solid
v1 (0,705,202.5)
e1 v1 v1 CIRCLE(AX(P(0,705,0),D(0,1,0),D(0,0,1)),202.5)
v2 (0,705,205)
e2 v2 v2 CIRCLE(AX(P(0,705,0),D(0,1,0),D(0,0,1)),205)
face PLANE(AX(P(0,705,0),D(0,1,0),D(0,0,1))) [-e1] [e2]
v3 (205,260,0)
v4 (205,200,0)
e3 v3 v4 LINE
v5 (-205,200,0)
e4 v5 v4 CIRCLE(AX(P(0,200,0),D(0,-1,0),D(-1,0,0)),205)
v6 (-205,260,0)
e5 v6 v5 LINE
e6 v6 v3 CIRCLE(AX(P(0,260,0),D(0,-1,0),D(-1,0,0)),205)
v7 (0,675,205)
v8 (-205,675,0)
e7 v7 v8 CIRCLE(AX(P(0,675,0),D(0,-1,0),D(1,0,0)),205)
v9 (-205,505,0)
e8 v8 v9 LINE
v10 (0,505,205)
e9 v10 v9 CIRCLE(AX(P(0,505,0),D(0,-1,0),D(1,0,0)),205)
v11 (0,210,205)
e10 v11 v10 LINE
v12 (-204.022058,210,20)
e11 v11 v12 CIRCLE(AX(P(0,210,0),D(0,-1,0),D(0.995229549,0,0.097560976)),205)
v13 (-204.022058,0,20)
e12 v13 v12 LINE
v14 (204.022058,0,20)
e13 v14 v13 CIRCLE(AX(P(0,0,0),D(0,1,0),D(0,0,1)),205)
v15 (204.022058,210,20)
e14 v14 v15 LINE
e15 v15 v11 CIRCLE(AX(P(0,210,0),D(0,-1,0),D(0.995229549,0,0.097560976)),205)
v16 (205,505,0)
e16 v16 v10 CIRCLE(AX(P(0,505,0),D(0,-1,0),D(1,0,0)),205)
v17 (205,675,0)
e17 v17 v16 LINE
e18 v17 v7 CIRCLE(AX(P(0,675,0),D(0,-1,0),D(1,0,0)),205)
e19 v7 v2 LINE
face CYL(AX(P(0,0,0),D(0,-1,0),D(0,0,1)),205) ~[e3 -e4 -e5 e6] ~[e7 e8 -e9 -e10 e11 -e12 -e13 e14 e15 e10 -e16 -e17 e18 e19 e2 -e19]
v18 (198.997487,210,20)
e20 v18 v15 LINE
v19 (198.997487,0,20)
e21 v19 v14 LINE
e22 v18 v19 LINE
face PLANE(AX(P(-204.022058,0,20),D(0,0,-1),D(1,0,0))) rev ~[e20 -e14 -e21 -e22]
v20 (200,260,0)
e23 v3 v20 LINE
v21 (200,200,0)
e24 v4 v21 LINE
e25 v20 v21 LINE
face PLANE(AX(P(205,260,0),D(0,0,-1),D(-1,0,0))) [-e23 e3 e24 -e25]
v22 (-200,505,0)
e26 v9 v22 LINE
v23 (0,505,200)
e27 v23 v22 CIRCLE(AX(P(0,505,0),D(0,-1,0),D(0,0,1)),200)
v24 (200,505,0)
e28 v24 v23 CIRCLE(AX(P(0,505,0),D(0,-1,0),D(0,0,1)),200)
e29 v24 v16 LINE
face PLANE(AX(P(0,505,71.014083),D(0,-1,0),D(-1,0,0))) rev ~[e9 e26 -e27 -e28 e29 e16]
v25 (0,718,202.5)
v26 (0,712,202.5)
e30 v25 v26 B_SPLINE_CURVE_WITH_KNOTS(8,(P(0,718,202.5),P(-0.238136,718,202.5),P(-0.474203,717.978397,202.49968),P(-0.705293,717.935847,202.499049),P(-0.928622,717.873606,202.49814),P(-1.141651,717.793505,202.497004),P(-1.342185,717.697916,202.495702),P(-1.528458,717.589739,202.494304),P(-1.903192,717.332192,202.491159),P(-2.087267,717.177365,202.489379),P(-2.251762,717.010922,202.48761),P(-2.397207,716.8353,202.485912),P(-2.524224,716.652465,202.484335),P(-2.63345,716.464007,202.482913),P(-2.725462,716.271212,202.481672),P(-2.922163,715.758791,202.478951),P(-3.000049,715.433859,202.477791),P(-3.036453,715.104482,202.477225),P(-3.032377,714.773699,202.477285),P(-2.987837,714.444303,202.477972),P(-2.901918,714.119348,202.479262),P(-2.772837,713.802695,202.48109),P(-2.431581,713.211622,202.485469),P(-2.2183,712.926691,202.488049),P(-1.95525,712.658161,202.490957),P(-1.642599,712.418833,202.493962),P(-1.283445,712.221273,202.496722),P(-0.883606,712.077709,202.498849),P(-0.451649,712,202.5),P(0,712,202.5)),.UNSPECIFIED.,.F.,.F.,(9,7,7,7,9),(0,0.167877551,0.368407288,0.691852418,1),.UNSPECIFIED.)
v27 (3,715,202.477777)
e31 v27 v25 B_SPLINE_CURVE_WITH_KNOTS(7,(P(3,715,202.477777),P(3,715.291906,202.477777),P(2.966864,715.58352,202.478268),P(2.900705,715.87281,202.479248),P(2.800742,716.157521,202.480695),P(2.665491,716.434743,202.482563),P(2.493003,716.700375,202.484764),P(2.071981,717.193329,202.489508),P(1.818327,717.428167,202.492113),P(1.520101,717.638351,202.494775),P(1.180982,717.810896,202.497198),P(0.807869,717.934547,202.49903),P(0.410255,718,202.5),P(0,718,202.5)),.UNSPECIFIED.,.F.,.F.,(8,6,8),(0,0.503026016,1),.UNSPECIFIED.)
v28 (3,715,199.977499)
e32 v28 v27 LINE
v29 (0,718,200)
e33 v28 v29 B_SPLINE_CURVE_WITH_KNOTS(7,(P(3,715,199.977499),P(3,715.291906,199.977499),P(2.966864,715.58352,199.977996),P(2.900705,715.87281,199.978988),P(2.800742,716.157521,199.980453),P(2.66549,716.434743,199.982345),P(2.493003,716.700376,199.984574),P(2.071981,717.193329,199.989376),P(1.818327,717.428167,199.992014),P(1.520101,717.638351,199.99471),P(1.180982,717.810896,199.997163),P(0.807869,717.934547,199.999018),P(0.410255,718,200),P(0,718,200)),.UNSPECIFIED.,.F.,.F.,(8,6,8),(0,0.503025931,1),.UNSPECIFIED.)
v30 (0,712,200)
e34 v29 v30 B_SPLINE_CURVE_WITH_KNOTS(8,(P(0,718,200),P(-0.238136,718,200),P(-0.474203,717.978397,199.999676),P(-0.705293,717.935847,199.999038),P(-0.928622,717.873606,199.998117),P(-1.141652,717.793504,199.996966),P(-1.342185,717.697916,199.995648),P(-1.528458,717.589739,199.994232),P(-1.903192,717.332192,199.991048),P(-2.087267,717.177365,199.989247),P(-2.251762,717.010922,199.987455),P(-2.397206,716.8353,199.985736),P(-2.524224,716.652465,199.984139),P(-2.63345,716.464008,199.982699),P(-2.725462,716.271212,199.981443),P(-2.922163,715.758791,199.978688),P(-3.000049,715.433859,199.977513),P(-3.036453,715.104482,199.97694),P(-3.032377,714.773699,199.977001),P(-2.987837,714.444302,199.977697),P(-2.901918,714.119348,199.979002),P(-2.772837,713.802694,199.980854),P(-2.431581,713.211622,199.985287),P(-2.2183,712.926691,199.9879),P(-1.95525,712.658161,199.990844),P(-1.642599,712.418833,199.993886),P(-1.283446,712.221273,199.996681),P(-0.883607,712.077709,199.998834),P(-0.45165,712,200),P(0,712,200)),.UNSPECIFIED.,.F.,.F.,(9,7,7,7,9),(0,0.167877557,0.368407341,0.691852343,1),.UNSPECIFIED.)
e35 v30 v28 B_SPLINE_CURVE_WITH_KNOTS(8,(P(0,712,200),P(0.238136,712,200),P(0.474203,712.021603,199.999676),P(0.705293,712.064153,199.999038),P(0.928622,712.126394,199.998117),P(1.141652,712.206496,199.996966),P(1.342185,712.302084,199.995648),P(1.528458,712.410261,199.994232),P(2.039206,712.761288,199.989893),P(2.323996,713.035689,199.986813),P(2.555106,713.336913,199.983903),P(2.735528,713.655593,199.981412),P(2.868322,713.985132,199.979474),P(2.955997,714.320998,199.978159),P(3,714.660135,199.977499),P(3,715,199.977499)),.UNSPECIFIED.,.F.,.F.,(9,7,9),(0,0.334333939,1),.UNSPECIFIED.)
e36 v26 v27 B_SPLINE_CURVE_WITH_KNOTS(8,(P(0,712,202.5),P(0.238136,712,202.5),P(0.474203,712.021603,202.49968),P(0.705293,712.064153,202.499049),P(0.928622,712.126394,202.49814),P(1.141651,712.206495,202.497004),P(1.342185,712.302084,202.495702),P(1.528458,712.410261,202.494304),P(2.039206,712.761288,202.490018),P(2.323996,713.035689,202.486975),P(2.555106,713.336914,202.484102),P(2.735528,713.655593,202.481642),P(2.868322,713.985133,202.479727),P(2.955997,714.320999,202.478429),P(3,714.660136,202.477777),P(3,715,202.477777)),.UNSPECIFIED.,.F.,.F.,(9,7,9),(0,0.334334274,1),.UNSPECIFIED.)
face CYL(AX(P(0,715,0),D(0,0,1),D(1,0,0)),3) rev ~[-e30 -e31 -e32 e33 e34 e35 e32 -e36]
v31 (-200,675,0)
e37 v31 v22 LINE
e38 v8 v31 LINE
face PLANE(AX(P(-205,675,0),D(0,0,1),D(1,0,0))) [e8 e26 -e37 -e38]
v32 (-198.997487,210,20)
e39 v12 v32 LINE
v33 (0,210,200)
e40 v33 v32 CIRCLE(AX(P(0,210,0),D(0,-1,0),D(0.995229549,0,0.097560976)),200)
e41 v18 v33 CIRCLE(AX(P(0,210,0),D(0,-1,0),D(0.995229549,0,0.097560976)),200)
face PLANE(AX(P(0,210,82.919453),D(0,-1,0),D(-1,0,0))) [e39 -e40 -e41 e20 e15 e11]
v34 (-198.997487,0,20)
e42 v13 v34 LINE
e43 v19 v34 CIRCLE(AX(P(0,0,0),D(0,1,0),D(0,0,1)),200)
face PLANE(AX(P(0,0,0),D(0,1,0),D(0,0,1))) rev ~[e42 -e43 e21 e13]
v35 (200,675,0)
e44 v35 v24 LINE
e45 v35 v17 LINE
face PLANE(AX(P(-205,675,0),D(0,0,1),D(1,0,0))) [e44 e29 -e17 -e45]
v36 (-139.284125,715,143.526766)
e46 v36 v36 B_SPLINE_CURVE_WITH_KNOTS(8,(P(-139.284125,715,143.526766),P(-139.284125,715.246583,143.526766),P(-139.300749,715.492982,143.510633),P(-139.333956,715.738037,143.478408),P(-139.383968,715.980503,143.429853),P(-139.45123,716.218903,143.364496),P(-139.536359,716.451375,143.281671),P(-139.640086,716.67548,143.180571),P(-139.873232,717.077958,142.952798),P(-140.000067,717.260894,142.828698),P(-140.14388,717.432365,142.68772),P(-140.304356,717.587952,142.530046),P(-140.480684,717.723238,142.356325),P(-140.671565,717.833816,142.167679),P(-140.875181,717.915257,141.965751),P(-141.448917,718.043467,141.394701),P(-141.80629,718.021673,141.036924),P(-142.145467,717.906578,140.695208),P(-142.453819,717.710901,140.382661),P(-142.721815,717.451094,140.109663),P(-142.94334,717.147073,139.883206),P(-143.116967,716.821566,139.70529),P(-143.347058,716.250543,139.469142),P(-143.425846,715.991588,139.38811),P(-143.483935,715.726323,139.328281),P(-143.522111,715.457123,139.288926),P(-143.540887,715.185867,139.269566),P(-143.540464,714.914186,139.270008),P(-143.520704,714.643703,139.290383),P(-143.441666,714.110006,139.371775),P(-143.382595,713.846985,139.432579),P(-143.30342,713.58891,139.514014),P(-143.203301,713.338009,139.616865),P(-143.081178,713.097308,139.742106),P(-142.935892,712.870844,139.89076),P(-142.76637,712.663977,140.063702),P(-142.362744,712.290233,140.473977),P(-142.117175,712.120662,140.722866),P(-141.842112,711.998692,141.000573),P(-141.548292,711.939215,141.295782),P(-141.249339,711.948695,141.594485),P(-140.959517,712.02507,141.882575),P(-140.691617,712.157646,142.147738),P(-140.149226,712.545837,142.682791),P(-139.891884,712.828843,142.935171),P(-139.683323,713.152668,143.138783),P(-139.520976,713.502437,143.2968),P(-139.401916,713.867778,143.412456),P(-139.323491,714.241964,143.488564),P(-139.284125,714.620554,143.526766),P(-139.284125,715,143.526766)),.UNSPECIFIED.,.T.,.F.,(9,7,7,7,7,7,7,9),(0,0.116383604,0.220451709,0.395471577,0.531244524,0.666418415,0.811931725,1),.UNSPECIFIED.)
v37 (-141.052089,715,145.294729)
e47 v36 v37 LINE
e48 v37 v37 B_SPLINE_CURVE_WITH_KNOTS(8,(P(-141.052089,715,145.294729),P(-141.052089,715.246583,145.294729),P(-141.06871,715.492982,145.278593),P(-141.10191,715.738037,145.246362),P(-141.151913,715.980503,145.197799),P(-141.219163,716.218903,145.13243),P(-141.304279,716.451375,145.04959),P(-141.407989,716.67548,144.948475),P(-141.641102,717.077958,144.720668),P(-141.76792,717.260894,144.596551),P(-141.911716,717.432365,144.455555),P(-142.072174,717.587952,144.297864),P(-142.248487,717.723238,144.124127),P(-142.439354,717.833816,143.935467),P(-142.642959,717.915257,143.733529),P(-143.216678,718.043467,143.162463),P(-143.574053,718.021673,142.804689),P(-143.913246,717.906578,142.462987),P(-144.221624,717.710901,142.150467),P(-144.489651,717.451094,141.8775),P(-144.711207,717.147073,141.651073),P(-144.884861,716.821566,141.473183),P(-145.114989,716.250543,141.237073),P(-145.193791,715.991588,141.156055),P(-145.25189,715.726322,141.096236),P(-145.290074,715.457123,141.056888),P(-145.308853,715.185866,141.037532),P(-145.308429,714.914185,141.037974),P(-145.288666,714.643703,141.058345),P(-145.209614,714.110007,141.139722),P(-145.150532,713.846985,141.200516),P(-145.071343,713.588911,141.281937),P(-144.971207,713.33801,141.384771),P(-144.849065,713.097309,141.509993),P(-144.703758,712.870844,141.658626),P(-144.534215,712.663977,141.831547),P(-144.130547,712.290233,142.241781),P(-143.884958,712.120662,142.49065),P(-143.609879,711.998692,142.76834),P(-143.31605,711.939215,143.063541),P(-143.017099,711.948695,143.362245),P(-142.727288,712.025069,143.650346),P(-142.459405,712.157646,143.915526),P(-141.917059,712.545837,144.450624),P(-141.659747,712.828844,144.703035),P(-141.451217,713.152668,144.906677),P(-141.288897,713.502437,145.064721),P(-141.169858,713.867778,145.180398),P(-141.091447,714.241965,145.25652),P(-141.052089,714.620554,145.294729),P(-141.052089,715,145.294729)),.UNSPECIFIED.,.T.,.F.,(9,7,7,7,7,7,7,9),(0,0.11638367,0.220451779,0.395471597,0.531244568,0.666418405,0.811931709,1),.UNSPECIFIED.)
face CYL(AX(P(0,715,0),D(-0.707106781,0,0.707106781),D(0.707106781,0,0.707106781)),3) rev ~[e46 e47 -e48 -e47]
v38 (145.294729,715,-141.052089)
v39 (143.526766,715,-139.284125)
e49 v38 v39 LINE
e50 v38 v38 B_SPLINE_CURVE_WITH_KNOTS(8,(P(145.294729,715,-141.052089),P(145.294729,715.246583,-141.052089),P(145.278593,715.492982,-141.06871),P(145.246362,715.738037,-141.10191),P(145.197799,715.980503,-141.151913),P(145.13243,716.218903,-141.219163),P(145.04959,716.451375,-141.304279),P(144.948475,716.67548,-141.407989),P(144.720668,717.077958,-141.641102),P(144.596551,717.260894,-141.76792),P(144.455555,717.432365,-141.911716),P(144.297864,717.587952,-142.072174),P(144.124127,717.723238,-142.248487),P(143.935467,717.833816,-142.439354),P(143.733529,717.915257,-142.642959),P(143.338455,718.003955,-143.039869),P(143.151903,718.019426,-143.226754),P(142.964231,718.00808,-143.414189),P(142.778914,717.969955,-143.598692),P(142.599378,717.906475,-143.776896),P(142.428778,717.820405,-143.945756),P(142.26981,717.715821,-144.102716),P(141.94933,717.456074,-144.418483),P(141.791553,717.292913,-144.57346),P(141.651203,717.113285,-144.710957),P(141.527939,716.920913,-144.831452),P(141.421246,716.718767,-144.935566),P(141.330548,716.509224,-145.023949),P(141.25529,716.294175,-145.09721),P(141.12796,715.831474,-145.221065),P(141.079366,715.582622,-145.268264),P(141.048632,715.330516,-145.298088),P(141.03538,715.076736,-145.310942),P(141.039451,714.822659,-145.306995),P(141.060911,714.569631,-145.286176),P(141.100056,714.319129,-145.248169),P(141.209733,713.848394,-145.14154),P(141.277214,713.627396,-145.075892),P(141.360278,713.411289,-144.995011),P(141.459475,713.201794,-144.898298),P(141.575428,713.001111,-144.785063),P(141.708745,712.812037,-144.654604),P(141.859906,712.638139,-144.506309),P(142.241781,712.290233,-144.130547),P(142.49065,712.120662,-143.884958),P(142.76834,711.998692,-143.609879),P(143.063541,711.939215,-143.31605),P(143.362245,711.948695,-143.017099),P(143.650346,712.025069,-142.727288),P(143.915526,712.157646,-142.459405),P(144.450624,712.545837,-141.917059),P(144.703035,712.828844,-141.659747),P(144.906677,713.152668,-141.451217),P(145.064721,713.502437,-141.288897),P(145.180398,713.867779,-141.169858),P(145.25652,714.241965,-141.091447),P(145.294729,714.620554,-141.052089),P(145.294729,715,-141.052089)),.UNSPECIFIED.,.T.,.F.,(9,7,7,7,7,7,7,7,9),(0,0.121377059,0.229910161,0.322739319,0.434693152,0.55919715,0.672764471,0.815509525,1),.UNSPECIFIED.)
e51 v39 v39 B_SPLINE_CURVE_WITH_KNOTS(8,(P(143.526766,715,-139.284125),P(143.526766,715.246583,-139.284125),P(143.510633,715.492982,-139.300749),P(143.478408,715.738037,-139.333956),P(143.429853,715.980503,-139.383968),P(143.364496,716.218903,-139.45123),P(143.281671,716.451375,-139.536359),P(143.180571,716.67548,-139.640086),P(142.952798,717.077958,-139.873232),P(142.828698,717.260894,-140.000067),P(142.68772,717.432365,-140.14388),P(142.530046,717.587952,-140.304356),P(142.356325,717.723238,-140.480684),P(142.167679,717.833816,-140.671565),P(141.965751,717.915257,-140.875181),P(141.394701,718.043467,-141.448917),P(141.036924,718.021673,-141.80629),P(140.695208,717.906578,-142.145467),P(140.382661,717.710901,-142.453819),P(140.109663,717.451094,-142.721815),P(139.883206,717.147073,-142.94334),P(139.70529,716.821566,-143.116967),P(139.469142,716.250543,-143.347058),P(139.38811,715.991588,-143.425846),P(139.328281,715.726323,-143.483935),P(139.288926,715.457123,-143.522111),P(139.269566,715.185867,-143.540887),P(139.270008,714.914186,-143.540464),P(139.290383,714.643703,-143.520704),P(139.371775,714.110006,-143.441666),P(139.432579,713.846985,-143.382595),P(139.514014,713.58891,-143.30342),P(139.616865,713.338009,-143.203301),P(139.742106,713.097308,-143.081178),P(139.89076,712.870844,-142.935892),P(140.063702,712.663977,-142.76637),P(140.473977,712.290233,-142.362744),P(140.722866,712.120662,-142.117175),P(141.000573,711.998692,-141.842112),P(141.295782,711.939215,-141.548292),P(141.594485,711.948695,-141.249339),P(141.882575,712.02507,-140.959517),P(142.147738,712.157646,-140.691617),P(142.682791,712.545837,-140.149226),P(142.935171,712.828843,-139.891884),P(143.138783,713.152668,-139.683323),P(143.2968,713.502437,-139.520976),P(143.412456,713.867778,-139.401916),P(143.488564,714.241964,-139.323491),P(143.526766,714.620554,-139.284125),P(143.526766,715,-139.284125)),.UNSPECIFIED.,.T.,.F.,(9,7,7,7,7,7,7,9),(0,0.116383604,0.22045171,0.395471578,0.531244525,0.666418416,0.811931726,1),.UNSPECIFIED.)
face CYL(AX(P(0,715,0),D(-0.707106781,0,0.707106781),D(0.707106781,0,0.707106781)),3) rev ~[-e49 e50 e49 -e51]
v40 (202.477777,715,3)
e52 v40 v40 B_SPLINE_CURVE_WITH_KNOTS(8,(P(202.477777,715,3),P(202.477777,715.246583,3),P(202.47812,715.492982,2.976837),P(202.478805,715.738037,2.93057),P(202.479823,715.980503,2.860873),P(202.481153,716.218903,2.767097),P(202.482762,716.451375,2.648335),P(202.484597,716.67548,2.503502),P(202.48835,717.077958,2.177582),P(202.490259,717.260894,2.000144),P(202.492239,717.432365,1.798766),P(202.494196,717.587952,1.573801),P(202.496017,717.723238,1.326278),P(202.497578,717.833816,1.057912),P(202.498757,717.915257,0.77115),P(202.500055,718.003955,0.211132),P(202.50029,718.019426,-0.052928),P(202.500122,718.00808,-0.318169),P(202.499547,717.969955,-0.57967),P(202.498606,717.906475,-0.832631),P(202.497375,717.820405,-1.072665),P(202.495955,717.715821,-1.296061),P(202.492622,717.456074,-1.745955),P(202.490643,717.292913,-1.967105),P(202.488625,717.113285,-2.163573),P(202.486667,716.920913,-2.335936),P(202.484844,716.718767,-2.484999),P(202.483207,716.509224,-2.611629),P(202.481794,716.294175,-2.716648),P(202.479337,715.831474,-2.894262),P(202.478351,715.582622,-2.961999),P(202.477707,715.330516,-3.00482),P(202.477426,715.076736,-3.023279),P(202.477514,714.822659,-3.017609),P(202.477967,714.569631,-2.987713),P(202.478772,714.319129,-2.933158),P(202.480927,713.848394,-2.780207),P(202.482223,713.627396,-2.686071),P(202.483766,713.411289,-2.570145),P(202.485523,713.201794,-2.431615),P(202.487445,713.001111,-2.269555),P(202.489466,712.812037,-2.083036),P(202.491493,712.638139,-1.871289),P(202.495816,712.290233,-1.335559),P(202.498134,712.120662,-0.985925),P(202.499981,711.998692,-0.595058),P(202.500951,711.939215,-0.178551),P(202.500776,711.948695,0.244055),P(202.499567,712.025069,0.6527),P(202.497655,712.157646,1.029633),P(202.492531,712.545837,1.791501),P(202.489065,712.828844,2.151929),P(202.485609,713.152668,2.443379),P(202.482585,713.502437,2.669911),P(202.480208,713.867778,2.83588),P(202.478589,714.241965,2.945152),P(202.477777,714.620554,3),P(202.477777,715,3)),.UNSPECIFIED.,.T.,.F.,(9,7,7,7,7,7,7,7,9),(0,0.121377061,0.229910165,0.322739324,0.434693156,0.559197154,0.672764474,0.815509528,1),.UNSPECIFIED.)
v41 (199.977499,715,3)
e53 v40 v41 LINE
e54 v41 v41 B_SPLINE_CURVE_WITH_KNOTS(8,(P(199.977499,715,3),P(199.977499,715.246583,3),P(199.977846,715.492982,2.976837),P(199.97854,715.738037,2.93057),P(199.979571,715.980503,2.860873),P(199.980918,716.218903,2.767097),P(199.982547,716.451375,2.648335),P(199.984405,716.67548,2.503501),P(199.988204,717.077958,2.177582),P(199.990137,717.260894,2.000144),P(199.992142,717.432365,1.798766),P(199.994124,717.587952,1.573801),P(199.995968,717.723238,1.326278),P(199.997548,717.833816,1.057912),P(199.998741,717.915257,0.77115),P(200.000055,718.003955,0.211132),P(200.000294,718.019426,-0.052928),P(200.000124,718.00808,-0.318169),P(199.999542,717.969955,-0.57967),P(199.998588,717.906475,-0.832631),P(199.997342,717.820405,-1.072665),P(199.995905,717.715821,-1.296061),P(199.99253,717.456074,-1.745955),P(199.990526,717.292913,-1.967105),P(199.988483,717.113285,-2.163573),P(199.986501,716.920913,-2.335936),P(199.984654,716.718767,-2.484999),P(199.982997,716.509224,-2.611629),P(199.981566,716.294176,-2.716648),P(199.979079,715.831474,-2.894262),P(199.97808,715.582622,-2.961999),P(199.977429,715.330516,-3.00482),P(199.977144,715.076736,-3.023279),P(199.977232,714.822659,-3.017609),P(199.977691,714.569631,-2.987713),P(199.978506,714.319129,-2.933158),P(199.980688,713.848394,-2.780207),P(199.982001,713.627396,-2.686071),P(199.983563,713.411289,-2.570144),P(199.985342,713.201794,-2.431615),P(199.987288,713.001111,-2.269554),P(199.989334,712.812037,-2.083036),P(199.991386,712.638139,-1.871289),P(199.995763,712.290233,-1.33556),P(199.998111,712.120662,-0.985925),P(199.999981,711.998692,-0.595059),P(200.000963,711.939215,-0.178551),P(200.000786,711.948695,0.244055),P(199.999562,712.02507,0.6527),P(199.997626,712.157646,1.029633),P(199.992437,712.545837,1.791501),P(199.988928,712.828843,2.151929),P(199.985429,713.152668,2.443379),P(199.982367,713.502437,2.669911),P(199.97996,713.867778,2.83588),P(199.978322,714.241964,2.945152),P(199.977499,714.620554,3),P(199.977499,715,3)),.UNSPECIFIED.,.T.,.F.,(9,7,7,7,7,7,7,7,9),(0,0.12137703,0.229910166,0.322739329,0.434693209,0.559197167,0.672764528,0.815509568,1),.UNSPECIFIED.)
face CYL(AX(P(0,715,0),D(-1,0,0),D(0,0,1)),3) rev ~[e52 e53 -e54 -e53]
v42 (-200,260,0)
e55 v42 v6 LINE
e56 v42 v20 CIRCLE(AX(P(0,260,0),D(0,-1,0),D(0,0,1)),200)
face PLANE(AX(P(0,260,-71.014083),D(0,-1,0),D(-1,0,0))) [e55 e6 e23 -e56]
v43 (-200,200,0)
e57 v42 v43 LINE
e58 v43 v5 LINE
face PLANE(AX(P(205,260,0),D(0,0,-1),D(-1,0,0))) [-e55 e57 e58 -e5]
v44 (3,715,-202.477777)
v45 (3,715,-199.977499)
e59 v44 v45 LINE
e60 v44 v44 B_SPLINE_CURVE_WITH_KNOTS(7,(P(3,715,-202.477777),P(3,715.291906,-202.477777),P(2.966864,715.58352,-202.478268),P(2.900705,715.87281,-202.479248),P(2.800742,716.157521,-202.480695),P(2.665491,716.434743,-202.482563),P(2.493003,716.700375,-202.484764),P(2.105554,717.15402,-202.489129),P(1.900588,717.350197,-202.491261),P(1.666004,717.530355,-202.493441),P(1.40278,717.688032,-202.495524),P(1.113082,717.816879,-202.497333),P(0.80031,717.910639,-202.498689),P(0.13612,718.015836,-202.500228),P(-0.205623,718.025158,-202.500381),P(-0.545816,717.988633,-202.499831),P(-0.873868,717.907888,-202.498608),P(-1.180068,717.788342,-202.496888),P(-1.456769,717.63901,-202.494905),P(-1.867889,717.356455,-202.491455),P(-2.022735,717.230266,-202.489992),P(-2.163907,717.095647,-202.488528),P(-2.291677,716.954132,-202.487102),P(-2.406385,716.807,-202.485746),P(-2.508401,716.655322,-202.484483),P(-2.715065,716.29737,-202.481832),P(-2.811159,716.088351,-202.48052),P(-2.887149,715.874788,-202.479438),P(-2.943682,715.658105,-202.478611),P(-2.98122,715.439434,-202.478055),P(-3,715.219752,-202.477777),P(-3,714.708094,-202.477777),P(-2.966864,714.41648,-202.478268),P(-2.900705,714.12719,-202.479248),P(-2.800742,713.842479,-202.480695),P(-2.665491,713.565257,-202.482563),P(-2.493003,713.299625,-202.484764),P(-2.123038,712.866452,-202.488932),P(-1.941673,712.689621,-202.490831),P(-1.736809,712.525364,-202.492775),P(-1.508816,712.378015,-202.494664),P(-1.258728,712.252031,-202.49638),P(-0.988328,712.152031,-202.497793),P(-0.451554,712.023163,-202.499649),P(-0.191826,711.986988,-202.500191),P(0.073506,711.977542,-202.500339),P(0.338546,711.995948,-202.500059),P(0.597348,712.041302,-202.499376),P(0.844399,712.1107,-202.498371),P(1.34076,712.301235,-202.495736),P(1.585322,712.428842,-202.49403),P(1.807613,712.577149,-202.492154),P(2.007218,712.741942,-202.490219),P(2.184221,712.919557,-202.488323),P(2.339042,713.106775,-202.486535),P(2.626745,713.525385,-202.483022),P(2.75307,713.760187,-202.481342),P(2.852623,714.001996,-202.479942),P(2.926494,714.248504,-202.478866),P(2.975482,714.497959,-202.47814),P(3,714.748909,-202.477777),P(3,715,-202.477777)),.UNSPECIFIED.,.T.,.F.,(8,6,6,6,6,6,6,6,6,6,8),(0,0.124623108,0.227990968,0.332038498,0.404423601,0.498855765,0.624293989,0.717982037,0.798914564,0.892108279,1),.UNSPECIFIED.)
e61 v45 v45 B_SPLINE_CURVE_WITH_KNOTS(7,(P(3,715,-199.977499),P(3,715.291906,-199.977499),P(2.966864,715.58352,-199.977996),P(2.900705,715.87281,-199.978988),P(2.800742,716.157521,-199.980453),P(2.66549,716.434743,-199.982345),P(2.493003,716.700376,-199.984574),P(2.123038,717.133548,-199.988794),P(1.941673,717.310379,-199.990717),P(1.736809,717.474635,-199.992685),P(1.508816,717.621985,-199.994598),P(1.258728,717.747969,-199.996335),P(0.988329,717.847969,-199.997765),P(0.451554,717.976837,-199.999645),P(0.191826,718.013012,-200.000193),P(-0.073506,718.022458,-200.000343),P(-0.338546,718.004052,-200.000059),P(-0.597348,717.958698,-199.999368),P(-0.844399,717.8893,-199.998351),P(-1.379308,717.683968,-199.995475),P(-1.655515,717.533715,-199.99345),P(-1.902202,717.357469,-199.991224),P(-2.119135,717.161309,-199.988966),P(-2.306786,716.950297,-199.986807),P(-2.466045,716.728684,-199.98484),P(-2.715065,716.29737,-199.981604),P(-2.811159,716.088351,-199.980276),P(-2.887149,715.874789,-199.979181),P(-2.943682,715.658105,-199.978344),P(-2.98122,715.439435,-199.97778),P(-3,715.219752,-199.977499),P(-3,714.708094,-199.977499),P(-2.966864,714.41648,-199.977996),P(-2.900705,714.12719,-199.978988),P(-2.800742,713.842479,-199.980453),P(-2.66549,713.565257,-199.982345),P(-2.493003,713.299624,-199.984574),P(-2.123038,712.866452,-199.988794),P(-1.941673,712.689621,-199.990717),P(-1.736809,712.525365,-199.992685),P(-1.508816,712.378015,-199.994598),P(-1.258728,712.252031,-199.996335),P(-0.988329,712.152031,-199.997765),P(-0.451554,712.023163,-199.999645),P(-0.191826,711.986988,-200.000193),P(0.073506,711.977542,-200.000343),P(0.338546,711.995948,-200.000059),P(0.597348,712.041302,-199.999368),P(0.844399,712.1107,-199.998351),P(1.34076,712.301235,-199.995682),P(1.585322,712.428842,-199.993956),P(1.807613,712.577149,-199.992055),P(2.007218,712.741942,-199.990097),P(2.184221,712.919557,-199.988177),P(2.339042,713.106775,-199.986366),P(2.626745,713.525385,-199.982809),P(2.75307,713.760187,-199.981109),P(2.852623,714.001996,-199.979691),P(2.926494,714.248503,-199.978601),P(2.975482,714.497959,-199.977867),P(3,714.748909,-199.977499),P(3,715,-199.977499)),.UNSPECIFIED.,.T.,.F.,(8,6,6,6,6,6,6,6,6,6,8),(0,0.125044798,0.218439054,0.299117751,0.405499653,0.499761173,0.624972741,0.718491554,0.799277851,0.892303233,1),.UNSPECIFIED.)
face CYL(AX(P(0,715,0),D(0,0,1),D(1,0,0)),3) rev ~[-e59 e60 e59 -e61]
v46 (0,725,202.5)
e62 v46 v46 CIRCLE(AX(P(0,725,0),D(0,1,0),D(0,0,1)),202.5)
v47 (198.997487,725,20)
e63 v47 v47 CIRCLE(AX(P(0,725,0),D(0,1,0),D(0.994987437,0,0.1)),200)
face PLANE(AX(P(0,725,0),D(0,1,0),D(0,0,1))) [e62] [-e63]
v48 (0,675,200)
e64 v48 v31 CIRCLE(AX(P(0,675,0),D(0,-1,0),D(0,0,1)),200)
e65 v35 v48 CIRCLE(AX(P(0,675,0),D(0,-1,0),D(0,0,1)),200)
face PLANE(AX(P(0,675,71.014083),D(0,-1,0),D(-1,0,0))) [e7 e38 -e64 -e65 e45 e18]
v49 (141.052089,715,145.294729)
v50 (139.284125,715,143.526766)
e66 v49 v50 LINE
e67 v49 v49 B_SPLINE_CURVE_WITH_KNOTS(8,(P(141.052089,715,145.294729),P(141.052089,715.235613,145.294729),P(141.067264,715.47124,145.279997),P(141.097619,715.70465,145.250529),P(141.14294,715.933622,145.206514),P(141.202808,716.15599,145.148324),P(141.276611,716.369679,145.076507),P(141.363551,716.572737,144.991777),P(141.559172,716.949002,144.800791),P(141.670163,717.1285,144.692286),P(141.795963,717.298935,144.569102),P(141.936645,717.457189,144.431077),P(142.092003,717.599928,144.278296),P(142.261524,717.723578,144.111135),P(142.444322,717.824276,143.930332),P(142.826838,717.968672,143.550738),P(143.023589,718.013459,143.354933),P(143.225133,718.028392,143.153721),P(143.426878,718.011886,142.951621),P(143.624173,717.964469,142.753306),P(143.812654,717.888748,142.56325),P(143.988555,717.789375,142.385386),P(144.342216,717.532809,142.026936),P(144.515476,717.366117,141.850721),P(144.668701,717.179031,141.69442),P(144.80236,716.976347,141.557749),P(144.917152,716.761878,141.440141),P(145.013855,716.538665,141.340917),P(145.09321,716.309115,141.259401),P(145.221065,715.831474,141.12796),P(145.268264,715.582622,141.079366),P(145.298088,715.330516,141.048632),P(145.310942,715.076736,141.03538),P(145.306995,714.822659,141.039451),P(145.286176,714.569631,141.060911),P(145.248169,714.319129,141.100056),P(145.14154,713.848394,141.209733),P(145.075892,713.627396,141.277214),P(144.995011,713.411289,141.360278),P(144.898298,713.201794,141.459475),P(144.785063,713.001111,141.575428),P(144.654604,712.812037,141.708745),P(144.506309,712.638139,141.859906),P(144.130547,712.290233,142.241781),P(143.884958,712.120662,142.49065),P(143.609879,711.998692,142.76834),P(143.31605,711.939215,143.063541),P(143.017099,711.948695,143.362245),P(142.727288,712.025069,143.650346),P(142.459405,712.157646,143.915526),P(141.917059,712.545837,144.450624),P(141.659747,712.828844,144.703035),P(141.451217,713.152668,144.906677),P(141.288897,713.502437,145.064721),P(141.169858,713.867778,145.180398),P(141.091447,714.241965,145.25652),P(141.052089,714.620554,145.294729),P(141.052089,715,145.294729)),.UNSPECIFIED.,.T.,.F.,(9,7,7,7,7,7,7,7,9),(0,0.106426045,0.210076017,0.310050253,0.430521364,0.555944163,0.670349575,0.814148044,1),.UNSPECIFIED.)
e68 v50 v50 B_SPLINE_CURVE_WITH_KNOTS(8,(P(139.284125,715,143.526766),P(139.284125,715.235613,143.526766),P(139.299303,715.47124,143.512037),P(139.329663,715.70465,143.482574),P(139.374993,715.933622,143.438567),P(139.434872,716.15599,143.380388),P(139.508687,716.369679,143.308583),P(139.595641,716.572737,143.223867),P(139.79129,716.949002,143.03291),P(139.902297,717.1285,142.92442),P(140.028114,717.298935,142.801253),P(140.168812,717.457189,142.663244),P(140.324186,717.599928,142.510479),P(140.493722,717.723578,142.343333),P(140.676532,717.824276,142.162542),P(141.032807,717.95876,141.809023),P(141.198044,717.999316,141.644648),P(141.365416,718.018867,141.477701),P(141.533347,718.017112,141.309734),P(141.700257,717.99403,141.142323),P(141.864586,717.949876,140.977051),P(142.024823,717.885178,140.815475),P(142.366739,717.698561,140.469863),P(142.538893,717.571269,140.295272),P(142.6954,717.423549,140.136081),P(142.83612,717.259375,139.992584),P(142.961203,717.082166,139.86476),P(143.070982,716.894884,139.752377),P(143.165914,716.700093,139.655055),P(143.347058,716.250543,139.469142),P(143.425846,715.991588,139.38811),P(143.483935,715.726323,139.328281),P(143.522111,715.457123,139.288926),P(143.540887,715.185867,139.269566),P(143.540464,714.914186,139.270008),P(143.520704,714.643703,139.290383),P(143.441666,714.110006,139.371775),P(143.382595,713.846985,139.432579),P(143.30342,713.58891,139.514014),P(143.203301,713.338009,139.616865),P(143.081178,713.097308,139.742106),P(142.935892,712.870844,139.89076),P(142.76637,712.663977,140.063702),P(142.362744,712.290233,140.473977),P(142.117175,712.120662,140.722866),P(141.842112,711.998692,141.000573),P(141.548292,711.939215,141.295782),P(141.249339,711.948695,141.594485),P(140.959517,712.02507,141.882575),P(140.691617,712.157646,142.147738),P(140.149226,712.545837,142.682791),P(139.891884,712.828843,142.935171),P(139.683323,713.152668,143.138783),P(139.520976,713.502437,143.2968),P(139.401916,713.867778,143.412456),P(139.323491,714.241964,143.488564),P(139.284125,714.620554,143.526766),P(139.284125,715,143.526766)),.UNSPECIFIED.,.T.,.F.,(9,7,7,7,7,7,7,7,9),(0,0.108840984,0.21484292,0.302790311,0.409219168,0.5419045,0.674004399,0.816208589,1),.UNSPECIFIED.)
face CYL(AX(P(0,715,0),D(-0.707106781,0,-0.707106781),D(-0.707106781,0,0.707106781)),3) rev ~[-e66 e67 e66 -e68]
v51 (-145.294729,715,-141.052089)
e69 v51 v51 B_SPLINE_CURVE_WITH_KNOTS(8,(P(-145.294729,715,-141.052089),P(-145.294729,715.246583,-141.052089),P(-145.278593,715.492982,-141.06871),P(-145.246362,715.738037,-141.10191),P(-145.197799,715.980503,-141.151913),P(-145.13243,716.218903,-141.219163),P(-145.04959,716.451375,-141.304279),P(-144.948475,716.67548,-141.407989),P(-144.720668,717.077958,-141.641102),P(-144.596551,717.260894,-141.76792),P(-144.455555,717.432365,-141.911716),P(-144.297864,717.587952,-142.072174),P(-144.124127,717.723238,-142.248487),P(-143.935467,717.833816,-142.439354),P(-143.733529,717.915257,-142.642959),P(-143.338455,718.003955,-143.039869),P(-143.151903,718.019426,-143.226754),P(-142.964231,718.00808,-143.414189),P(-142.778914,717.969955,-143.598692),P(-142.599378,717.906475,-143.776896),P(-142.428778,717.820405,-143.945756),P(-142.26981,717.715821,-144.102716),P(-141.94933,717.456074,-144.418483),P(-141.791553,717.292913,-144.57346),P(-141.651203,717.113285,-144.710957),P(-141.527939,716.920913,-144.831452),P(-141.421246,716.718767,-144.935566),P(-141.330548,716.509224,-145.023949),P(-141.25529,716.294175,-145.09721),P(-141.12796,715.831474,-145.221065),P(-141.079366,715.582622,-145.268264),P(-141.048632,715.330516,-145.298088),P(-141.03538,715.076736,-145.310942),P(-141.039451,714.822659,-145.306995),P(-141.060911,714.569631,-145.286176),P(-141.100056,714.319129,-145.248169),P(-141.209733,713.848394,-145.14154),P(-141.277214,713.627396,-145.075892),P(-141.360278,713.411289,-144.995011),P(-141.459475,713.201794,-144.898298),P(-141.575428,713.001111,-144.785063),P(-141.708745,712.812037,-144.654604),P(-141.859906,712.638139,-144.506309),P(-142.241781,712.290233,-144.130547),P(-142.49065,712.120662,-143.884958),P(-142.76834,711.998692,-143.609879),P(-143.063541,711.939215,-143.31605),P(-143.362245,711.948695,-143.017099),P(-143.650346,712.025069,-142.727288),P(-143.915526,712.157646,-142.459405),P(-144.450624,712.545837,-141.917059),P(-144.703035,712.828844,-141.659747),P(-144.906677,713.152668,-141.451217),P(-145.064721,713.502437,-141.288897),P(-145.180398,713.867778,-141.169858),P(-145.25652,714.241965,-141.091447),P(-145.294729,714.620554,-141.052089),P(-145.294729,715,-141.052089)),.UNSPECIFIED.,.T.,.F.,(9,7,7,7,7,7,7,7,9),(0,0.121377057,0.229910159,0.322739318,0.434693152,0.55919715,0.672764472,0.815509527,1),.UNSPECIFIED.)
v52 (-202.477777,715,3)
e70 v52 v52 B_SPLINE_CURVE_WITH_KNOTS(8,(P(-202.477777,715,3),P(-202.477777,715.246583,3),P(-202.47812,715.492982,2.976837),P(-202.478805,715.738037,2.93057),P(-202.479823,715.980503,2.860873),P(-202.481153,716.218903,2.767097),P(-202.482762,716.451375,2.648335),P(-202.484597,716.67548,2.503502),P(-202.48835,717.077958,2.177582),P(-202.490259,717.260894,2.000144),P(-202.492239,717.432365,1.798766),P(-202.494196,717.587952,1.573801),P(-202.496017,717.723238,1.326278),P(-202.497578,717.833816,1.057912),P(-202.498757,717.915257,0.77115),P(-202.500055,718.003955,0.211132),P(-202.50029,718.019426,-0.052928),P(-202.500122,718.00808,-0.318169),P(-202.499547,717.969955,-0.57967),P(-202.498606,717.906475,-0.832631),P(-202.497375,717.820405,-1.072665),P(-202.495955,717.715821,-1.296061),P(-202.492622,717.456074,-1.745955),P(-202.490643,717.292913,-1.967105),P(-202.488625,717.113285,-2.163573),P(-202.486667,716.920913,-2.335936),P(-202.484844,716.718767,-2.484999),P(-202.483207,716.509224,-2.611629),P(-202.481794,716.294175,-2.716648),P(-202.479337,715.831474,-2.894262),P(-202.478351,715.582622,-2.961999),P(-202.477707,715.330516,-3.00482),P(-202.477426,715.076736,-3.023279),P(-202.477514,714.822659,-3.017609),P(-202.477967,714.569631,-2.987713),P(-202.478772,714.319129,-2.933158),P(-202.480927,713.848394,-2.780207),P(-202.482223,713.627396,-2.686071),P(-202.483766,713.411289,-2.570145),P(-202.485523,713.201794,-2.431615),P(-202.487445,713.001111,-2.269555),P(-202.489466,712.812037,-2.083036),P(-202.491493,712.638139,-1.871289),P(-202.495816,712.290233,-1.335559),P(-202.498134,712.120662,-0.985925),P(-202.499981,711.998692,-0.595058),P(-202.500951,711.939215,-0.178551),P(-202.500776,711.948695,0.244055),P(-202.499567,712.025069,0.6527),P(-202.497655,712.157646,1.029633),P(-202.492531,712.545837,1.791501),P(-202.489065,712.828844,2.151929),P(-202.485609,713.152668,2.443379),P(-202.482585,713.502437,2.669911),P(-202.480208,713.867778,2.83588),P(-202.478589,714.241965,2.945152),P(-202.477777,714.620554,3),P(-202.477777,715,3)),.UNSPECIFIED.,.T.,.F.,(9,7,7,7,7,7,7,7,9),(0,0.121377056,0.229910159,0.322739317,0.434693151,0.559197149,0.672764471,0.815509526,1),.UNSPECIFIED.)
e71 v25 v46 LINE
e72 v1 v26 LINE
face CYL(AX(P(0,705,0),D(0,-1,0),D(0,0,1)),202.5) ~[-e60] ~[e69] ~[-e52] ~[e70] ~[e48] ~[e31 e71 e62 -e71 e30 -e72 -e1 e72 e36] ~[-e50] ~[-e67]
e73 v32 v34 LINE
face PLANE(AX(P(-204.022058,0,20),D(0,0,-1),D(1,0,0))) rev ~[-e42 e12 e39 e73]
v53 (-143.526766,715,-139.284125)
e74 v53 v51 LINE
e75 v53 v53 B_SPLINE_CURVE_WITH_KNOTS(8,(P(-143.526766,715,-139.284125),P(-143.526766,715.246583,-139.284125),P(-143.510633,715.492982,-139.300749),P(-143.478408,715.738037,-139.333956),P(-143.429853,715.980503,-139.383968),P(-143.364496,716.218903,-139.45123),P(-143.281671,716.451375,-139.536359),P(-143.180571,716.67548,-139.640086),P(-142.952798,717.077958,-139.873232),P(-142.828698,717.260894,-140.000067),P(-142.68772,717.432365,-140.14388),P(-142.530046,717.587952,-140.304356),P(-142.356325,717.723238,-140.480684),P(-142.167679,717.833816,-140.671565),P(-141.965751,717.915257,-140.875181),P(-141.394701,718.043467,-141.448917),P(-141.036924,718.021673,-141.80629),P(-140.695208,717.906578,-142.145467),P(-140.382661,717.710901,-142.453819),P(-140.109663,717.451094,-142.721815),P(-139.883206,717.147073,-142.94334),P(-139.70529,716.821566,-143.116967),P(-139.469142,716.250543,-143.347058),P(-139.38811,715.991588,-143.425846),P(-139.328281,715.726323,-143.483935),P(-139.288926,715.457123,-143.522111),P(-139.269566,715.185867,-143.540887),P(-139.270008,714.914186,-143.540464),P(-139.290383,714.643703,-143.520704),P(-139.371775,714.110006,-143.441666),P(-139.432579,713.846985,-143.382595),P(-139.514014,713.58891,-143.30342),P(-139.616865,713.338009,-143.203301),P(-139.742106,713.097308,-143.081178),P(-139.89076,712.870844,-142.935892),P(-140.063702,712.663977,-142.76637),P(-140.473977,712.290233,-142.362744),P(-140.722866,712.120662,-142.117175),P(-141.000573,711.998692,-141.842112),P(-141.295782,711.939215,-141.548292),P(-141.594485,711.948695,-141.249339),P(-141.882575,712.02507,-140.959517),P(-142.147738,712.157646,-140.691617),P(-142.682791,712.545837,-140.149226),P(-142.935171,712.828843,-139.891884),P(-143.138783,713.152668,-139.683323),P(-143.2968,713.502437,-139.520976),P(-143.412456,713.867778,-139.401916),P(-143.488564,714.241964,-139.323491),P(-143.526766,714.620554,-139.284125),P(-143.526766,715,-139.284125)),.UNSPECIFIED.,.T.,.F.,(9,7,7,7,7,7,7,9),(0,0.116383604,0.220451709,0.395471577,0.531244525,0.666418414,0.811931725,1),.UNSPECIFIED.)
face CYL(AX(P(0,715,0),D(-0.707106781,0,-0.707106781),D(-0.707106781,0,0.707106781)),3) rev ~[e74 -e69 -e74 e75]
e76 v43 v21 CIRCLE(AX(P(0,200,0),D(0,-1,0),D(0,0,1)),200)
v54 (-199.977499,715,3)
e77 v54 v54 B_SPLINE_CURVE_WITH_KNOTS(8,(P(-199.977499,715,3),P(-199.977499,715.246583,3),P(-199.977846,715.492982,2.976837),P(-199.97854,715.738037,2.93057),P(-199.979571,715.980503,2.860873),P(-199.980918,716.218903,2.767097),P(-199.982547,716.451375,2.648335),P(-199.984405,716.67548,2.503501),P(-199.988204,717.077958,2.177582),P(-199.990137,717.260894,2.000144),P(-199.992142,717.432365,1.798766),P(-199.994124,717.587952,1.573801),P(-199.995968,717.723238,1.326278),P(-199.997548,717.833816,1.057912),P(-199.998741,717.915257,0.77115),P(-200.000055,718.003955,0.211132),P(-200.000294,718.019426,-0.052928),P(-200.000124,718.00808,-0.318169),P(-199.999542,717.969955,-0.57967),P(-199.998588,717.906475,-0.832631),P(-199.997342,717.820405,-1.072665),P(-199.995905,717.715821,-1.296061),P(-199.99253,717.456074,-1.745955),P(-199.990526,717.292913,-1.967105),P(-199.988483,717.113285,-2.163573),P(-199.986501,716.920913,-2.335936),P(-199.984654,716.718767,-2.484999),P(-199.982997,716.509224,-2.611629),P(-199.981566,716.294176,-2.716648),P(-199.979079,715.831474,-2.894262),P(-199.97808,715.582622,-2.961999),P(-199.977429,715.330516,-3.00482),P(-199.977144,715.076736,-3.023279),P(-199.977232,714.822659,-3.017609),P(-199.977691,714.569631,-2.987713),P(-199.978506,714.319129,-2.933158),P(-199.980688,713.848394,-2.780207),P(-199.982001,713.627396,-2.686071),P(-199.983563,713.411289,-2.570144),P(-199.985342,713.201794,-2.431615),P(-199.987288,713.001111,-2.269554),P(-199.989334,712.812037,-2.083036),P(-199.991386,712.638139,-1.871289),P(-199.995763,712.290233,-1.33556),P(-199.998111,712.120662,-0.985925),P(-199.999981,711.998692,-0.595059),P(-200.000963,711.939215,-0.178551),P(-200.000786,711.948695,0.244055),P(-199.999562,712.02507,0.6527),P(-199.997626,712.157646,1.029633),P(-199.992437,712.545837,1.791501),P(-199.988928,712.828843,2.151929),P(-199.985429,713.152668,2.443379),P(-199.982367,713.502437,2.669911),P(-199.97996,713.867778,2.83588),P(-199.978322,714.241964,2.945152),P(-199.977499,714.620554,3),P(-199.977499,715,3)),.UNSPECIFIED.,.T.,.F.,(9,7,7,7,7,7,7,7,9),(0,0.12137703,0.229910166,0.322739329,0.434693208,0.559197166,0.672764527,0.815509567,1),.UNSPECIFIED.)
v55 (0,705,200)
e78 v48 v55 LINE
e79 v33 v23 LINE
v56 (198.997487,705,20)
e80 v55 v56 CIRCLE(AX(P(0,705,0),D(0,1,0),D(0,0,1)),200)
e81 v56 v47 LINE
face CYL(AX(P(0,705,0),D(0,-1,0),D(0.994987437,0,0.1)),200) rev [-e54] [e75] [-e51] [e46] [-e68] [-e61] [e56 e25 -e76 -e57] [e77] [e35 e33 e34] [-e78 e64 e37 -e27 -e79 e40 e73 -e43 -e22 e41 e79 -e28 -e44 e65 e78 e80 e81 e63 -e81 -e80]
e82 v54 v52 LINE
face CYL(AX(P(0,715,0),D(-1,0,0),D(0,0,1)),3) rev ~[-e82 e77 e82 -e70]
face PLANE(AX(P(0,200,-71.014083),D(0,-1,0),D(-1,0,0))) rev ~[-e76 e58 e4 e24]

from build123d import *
from build123d.topology import SkipClean

# Parameters (mm, degrees)
SKETCH1_R           = 205
BOSS_EXTRUDE1_DEPTH = 705
CUT_EXTRUDE14_DEPTH = 210
SHELL1_T            = -5
CUT_EXTRUDE15_DEPTH = 170
CUT_EXTRUDE16_DEPTH = 60
SKETCH22_R          = 202.5
SKETCH22_R_2        = 200
BOSS_EXTRUDE4_DEPTH = 20
SKETCH26_R          = 3
CUT_EXTRUDE18_DEPTH = 781.81687994
CIRPATTERN1_COUNT   = 4
CIRPATTERN1_ANGLE   = 135


with BuildPart() as part:
    # Sketch1 → Boss-Extrude1 (new body)
    with BuildSketch(Plane(origin=(0, 0, 0), x_dir=(1, 0, 0), z_dir=(0, 1, 0))):
        with Locations(Location((0, 0, 0), (0, 0, 270))):
            Circle(SKETCH1_R)
    extrude(amount=BOSS_EXTRUDE1_DEPTH)

    # Sketch17 → Cut-Extrude14 (cut)
    with BuildSketch(Plane(origin=(0, 0, 0), x_dir=(1, 0, 0), z_dir=(0, 1, 0))):
        with BuildLine():
            Line((-204.022057631, -20), (204.022057631, -20))
            ThreePointArc((204.022057631, -20), (0, -205), (-204.022057631, -20))
        make_face()
    extrude(amount=CUT_EXTRUDE14_DEPTH, mode=Mode.SUBTRACT)

    # Shell1
    shell1_openings = [part.faces().sort_by_distance(p)[0] for p in [
        (0, 705, 0),
        (0, 105, 20),
        (0, 210, 97.908161043),
        (0, 0, -76.302369803),
    ]]
    offset(amount=SHELL1_T, openings=shell1_openings)

    # Sketch18 → Cut-Extrude15 (cut)
    with BuildSketch(Plane(origin=(0, 675, 0), x_dir=(1, 0, 0), z_dir=(0, 1, 0))):
        with BuildLine():
            Line((-205, 0), (205, 0))
            ThreePointArc((205, 0), (0, -205), (-205, 0))
        make_face()
    extrude(amount=-CUT_EXTRUDE15_DEPTH, mode=Mode.SUBTRACT)

    # Sketch19 → Cut-Extrude16 (cut)
    with BuildSketch(Plane(origin=(0, 260, 0), x_dir=(-1, 0, 0), z_dir=(0, -1, 0))):
        with BuildLine():
            Line((-205, 0), (205, 0))
            ThreePointArc((205, 0), (0, 205), (-205, 0))
        make_face()
    extrude(amount=CUT_EXTRUDE16_DEPTH, mode=Mode.SUBTRACT)

    # Sketch22 → Boss-Extrude4 (add)
    with BuildSketch(Plane(origin=(0, 705, 0), x_dir=(1, 0, 0), z_dir=(0, 1, 0))):
        with Locations(Location((0, 0, 0), (0, 0, 270))):
            Circle(SKETCH22_R)
        with Locations(Location((0, 0, 0), (0, 0, 354.260829523))):
            Circle(SKETCH22_R_2, mode=Mode.SUBTRACT)
    extrude(amount=BOSS_EXTRUDE4_DEPTH)

    # Sketch26 → Cut-Extrude18 (cut, symmetric)
    with SkipClean():  # the faces are left unmerged after this step: merging them gives an invalid solid
        with BuildSketch(Plane.XY):
            with Locations((0, 715)):
                Circle(SKETCH26_R)
        cut_extrude18 = extrude(amount=CUT_EXTRUDE18_DEPTH, both=True, mode=Mode.SUBTRACT)

    # CirPattern1: Cut-Extrude18 ×4 about axis
    with SkipClean():  # the faces are left unmerged after this step: merging them gives an invalid solid
        cirpattern1_axis = Axis((0, 832.537864543, 0), (0, -1, 0))
        for i in range(1, CIRPATTERN1_COUNT):
            add(cut_extrude18.rotate(cirpattern1_axis, i * CIRPATTERN1_ANGLE / (CIRPATTERN1_COUNT - 1)), mode=Mode.SUBTRACT)


solid = part.part
